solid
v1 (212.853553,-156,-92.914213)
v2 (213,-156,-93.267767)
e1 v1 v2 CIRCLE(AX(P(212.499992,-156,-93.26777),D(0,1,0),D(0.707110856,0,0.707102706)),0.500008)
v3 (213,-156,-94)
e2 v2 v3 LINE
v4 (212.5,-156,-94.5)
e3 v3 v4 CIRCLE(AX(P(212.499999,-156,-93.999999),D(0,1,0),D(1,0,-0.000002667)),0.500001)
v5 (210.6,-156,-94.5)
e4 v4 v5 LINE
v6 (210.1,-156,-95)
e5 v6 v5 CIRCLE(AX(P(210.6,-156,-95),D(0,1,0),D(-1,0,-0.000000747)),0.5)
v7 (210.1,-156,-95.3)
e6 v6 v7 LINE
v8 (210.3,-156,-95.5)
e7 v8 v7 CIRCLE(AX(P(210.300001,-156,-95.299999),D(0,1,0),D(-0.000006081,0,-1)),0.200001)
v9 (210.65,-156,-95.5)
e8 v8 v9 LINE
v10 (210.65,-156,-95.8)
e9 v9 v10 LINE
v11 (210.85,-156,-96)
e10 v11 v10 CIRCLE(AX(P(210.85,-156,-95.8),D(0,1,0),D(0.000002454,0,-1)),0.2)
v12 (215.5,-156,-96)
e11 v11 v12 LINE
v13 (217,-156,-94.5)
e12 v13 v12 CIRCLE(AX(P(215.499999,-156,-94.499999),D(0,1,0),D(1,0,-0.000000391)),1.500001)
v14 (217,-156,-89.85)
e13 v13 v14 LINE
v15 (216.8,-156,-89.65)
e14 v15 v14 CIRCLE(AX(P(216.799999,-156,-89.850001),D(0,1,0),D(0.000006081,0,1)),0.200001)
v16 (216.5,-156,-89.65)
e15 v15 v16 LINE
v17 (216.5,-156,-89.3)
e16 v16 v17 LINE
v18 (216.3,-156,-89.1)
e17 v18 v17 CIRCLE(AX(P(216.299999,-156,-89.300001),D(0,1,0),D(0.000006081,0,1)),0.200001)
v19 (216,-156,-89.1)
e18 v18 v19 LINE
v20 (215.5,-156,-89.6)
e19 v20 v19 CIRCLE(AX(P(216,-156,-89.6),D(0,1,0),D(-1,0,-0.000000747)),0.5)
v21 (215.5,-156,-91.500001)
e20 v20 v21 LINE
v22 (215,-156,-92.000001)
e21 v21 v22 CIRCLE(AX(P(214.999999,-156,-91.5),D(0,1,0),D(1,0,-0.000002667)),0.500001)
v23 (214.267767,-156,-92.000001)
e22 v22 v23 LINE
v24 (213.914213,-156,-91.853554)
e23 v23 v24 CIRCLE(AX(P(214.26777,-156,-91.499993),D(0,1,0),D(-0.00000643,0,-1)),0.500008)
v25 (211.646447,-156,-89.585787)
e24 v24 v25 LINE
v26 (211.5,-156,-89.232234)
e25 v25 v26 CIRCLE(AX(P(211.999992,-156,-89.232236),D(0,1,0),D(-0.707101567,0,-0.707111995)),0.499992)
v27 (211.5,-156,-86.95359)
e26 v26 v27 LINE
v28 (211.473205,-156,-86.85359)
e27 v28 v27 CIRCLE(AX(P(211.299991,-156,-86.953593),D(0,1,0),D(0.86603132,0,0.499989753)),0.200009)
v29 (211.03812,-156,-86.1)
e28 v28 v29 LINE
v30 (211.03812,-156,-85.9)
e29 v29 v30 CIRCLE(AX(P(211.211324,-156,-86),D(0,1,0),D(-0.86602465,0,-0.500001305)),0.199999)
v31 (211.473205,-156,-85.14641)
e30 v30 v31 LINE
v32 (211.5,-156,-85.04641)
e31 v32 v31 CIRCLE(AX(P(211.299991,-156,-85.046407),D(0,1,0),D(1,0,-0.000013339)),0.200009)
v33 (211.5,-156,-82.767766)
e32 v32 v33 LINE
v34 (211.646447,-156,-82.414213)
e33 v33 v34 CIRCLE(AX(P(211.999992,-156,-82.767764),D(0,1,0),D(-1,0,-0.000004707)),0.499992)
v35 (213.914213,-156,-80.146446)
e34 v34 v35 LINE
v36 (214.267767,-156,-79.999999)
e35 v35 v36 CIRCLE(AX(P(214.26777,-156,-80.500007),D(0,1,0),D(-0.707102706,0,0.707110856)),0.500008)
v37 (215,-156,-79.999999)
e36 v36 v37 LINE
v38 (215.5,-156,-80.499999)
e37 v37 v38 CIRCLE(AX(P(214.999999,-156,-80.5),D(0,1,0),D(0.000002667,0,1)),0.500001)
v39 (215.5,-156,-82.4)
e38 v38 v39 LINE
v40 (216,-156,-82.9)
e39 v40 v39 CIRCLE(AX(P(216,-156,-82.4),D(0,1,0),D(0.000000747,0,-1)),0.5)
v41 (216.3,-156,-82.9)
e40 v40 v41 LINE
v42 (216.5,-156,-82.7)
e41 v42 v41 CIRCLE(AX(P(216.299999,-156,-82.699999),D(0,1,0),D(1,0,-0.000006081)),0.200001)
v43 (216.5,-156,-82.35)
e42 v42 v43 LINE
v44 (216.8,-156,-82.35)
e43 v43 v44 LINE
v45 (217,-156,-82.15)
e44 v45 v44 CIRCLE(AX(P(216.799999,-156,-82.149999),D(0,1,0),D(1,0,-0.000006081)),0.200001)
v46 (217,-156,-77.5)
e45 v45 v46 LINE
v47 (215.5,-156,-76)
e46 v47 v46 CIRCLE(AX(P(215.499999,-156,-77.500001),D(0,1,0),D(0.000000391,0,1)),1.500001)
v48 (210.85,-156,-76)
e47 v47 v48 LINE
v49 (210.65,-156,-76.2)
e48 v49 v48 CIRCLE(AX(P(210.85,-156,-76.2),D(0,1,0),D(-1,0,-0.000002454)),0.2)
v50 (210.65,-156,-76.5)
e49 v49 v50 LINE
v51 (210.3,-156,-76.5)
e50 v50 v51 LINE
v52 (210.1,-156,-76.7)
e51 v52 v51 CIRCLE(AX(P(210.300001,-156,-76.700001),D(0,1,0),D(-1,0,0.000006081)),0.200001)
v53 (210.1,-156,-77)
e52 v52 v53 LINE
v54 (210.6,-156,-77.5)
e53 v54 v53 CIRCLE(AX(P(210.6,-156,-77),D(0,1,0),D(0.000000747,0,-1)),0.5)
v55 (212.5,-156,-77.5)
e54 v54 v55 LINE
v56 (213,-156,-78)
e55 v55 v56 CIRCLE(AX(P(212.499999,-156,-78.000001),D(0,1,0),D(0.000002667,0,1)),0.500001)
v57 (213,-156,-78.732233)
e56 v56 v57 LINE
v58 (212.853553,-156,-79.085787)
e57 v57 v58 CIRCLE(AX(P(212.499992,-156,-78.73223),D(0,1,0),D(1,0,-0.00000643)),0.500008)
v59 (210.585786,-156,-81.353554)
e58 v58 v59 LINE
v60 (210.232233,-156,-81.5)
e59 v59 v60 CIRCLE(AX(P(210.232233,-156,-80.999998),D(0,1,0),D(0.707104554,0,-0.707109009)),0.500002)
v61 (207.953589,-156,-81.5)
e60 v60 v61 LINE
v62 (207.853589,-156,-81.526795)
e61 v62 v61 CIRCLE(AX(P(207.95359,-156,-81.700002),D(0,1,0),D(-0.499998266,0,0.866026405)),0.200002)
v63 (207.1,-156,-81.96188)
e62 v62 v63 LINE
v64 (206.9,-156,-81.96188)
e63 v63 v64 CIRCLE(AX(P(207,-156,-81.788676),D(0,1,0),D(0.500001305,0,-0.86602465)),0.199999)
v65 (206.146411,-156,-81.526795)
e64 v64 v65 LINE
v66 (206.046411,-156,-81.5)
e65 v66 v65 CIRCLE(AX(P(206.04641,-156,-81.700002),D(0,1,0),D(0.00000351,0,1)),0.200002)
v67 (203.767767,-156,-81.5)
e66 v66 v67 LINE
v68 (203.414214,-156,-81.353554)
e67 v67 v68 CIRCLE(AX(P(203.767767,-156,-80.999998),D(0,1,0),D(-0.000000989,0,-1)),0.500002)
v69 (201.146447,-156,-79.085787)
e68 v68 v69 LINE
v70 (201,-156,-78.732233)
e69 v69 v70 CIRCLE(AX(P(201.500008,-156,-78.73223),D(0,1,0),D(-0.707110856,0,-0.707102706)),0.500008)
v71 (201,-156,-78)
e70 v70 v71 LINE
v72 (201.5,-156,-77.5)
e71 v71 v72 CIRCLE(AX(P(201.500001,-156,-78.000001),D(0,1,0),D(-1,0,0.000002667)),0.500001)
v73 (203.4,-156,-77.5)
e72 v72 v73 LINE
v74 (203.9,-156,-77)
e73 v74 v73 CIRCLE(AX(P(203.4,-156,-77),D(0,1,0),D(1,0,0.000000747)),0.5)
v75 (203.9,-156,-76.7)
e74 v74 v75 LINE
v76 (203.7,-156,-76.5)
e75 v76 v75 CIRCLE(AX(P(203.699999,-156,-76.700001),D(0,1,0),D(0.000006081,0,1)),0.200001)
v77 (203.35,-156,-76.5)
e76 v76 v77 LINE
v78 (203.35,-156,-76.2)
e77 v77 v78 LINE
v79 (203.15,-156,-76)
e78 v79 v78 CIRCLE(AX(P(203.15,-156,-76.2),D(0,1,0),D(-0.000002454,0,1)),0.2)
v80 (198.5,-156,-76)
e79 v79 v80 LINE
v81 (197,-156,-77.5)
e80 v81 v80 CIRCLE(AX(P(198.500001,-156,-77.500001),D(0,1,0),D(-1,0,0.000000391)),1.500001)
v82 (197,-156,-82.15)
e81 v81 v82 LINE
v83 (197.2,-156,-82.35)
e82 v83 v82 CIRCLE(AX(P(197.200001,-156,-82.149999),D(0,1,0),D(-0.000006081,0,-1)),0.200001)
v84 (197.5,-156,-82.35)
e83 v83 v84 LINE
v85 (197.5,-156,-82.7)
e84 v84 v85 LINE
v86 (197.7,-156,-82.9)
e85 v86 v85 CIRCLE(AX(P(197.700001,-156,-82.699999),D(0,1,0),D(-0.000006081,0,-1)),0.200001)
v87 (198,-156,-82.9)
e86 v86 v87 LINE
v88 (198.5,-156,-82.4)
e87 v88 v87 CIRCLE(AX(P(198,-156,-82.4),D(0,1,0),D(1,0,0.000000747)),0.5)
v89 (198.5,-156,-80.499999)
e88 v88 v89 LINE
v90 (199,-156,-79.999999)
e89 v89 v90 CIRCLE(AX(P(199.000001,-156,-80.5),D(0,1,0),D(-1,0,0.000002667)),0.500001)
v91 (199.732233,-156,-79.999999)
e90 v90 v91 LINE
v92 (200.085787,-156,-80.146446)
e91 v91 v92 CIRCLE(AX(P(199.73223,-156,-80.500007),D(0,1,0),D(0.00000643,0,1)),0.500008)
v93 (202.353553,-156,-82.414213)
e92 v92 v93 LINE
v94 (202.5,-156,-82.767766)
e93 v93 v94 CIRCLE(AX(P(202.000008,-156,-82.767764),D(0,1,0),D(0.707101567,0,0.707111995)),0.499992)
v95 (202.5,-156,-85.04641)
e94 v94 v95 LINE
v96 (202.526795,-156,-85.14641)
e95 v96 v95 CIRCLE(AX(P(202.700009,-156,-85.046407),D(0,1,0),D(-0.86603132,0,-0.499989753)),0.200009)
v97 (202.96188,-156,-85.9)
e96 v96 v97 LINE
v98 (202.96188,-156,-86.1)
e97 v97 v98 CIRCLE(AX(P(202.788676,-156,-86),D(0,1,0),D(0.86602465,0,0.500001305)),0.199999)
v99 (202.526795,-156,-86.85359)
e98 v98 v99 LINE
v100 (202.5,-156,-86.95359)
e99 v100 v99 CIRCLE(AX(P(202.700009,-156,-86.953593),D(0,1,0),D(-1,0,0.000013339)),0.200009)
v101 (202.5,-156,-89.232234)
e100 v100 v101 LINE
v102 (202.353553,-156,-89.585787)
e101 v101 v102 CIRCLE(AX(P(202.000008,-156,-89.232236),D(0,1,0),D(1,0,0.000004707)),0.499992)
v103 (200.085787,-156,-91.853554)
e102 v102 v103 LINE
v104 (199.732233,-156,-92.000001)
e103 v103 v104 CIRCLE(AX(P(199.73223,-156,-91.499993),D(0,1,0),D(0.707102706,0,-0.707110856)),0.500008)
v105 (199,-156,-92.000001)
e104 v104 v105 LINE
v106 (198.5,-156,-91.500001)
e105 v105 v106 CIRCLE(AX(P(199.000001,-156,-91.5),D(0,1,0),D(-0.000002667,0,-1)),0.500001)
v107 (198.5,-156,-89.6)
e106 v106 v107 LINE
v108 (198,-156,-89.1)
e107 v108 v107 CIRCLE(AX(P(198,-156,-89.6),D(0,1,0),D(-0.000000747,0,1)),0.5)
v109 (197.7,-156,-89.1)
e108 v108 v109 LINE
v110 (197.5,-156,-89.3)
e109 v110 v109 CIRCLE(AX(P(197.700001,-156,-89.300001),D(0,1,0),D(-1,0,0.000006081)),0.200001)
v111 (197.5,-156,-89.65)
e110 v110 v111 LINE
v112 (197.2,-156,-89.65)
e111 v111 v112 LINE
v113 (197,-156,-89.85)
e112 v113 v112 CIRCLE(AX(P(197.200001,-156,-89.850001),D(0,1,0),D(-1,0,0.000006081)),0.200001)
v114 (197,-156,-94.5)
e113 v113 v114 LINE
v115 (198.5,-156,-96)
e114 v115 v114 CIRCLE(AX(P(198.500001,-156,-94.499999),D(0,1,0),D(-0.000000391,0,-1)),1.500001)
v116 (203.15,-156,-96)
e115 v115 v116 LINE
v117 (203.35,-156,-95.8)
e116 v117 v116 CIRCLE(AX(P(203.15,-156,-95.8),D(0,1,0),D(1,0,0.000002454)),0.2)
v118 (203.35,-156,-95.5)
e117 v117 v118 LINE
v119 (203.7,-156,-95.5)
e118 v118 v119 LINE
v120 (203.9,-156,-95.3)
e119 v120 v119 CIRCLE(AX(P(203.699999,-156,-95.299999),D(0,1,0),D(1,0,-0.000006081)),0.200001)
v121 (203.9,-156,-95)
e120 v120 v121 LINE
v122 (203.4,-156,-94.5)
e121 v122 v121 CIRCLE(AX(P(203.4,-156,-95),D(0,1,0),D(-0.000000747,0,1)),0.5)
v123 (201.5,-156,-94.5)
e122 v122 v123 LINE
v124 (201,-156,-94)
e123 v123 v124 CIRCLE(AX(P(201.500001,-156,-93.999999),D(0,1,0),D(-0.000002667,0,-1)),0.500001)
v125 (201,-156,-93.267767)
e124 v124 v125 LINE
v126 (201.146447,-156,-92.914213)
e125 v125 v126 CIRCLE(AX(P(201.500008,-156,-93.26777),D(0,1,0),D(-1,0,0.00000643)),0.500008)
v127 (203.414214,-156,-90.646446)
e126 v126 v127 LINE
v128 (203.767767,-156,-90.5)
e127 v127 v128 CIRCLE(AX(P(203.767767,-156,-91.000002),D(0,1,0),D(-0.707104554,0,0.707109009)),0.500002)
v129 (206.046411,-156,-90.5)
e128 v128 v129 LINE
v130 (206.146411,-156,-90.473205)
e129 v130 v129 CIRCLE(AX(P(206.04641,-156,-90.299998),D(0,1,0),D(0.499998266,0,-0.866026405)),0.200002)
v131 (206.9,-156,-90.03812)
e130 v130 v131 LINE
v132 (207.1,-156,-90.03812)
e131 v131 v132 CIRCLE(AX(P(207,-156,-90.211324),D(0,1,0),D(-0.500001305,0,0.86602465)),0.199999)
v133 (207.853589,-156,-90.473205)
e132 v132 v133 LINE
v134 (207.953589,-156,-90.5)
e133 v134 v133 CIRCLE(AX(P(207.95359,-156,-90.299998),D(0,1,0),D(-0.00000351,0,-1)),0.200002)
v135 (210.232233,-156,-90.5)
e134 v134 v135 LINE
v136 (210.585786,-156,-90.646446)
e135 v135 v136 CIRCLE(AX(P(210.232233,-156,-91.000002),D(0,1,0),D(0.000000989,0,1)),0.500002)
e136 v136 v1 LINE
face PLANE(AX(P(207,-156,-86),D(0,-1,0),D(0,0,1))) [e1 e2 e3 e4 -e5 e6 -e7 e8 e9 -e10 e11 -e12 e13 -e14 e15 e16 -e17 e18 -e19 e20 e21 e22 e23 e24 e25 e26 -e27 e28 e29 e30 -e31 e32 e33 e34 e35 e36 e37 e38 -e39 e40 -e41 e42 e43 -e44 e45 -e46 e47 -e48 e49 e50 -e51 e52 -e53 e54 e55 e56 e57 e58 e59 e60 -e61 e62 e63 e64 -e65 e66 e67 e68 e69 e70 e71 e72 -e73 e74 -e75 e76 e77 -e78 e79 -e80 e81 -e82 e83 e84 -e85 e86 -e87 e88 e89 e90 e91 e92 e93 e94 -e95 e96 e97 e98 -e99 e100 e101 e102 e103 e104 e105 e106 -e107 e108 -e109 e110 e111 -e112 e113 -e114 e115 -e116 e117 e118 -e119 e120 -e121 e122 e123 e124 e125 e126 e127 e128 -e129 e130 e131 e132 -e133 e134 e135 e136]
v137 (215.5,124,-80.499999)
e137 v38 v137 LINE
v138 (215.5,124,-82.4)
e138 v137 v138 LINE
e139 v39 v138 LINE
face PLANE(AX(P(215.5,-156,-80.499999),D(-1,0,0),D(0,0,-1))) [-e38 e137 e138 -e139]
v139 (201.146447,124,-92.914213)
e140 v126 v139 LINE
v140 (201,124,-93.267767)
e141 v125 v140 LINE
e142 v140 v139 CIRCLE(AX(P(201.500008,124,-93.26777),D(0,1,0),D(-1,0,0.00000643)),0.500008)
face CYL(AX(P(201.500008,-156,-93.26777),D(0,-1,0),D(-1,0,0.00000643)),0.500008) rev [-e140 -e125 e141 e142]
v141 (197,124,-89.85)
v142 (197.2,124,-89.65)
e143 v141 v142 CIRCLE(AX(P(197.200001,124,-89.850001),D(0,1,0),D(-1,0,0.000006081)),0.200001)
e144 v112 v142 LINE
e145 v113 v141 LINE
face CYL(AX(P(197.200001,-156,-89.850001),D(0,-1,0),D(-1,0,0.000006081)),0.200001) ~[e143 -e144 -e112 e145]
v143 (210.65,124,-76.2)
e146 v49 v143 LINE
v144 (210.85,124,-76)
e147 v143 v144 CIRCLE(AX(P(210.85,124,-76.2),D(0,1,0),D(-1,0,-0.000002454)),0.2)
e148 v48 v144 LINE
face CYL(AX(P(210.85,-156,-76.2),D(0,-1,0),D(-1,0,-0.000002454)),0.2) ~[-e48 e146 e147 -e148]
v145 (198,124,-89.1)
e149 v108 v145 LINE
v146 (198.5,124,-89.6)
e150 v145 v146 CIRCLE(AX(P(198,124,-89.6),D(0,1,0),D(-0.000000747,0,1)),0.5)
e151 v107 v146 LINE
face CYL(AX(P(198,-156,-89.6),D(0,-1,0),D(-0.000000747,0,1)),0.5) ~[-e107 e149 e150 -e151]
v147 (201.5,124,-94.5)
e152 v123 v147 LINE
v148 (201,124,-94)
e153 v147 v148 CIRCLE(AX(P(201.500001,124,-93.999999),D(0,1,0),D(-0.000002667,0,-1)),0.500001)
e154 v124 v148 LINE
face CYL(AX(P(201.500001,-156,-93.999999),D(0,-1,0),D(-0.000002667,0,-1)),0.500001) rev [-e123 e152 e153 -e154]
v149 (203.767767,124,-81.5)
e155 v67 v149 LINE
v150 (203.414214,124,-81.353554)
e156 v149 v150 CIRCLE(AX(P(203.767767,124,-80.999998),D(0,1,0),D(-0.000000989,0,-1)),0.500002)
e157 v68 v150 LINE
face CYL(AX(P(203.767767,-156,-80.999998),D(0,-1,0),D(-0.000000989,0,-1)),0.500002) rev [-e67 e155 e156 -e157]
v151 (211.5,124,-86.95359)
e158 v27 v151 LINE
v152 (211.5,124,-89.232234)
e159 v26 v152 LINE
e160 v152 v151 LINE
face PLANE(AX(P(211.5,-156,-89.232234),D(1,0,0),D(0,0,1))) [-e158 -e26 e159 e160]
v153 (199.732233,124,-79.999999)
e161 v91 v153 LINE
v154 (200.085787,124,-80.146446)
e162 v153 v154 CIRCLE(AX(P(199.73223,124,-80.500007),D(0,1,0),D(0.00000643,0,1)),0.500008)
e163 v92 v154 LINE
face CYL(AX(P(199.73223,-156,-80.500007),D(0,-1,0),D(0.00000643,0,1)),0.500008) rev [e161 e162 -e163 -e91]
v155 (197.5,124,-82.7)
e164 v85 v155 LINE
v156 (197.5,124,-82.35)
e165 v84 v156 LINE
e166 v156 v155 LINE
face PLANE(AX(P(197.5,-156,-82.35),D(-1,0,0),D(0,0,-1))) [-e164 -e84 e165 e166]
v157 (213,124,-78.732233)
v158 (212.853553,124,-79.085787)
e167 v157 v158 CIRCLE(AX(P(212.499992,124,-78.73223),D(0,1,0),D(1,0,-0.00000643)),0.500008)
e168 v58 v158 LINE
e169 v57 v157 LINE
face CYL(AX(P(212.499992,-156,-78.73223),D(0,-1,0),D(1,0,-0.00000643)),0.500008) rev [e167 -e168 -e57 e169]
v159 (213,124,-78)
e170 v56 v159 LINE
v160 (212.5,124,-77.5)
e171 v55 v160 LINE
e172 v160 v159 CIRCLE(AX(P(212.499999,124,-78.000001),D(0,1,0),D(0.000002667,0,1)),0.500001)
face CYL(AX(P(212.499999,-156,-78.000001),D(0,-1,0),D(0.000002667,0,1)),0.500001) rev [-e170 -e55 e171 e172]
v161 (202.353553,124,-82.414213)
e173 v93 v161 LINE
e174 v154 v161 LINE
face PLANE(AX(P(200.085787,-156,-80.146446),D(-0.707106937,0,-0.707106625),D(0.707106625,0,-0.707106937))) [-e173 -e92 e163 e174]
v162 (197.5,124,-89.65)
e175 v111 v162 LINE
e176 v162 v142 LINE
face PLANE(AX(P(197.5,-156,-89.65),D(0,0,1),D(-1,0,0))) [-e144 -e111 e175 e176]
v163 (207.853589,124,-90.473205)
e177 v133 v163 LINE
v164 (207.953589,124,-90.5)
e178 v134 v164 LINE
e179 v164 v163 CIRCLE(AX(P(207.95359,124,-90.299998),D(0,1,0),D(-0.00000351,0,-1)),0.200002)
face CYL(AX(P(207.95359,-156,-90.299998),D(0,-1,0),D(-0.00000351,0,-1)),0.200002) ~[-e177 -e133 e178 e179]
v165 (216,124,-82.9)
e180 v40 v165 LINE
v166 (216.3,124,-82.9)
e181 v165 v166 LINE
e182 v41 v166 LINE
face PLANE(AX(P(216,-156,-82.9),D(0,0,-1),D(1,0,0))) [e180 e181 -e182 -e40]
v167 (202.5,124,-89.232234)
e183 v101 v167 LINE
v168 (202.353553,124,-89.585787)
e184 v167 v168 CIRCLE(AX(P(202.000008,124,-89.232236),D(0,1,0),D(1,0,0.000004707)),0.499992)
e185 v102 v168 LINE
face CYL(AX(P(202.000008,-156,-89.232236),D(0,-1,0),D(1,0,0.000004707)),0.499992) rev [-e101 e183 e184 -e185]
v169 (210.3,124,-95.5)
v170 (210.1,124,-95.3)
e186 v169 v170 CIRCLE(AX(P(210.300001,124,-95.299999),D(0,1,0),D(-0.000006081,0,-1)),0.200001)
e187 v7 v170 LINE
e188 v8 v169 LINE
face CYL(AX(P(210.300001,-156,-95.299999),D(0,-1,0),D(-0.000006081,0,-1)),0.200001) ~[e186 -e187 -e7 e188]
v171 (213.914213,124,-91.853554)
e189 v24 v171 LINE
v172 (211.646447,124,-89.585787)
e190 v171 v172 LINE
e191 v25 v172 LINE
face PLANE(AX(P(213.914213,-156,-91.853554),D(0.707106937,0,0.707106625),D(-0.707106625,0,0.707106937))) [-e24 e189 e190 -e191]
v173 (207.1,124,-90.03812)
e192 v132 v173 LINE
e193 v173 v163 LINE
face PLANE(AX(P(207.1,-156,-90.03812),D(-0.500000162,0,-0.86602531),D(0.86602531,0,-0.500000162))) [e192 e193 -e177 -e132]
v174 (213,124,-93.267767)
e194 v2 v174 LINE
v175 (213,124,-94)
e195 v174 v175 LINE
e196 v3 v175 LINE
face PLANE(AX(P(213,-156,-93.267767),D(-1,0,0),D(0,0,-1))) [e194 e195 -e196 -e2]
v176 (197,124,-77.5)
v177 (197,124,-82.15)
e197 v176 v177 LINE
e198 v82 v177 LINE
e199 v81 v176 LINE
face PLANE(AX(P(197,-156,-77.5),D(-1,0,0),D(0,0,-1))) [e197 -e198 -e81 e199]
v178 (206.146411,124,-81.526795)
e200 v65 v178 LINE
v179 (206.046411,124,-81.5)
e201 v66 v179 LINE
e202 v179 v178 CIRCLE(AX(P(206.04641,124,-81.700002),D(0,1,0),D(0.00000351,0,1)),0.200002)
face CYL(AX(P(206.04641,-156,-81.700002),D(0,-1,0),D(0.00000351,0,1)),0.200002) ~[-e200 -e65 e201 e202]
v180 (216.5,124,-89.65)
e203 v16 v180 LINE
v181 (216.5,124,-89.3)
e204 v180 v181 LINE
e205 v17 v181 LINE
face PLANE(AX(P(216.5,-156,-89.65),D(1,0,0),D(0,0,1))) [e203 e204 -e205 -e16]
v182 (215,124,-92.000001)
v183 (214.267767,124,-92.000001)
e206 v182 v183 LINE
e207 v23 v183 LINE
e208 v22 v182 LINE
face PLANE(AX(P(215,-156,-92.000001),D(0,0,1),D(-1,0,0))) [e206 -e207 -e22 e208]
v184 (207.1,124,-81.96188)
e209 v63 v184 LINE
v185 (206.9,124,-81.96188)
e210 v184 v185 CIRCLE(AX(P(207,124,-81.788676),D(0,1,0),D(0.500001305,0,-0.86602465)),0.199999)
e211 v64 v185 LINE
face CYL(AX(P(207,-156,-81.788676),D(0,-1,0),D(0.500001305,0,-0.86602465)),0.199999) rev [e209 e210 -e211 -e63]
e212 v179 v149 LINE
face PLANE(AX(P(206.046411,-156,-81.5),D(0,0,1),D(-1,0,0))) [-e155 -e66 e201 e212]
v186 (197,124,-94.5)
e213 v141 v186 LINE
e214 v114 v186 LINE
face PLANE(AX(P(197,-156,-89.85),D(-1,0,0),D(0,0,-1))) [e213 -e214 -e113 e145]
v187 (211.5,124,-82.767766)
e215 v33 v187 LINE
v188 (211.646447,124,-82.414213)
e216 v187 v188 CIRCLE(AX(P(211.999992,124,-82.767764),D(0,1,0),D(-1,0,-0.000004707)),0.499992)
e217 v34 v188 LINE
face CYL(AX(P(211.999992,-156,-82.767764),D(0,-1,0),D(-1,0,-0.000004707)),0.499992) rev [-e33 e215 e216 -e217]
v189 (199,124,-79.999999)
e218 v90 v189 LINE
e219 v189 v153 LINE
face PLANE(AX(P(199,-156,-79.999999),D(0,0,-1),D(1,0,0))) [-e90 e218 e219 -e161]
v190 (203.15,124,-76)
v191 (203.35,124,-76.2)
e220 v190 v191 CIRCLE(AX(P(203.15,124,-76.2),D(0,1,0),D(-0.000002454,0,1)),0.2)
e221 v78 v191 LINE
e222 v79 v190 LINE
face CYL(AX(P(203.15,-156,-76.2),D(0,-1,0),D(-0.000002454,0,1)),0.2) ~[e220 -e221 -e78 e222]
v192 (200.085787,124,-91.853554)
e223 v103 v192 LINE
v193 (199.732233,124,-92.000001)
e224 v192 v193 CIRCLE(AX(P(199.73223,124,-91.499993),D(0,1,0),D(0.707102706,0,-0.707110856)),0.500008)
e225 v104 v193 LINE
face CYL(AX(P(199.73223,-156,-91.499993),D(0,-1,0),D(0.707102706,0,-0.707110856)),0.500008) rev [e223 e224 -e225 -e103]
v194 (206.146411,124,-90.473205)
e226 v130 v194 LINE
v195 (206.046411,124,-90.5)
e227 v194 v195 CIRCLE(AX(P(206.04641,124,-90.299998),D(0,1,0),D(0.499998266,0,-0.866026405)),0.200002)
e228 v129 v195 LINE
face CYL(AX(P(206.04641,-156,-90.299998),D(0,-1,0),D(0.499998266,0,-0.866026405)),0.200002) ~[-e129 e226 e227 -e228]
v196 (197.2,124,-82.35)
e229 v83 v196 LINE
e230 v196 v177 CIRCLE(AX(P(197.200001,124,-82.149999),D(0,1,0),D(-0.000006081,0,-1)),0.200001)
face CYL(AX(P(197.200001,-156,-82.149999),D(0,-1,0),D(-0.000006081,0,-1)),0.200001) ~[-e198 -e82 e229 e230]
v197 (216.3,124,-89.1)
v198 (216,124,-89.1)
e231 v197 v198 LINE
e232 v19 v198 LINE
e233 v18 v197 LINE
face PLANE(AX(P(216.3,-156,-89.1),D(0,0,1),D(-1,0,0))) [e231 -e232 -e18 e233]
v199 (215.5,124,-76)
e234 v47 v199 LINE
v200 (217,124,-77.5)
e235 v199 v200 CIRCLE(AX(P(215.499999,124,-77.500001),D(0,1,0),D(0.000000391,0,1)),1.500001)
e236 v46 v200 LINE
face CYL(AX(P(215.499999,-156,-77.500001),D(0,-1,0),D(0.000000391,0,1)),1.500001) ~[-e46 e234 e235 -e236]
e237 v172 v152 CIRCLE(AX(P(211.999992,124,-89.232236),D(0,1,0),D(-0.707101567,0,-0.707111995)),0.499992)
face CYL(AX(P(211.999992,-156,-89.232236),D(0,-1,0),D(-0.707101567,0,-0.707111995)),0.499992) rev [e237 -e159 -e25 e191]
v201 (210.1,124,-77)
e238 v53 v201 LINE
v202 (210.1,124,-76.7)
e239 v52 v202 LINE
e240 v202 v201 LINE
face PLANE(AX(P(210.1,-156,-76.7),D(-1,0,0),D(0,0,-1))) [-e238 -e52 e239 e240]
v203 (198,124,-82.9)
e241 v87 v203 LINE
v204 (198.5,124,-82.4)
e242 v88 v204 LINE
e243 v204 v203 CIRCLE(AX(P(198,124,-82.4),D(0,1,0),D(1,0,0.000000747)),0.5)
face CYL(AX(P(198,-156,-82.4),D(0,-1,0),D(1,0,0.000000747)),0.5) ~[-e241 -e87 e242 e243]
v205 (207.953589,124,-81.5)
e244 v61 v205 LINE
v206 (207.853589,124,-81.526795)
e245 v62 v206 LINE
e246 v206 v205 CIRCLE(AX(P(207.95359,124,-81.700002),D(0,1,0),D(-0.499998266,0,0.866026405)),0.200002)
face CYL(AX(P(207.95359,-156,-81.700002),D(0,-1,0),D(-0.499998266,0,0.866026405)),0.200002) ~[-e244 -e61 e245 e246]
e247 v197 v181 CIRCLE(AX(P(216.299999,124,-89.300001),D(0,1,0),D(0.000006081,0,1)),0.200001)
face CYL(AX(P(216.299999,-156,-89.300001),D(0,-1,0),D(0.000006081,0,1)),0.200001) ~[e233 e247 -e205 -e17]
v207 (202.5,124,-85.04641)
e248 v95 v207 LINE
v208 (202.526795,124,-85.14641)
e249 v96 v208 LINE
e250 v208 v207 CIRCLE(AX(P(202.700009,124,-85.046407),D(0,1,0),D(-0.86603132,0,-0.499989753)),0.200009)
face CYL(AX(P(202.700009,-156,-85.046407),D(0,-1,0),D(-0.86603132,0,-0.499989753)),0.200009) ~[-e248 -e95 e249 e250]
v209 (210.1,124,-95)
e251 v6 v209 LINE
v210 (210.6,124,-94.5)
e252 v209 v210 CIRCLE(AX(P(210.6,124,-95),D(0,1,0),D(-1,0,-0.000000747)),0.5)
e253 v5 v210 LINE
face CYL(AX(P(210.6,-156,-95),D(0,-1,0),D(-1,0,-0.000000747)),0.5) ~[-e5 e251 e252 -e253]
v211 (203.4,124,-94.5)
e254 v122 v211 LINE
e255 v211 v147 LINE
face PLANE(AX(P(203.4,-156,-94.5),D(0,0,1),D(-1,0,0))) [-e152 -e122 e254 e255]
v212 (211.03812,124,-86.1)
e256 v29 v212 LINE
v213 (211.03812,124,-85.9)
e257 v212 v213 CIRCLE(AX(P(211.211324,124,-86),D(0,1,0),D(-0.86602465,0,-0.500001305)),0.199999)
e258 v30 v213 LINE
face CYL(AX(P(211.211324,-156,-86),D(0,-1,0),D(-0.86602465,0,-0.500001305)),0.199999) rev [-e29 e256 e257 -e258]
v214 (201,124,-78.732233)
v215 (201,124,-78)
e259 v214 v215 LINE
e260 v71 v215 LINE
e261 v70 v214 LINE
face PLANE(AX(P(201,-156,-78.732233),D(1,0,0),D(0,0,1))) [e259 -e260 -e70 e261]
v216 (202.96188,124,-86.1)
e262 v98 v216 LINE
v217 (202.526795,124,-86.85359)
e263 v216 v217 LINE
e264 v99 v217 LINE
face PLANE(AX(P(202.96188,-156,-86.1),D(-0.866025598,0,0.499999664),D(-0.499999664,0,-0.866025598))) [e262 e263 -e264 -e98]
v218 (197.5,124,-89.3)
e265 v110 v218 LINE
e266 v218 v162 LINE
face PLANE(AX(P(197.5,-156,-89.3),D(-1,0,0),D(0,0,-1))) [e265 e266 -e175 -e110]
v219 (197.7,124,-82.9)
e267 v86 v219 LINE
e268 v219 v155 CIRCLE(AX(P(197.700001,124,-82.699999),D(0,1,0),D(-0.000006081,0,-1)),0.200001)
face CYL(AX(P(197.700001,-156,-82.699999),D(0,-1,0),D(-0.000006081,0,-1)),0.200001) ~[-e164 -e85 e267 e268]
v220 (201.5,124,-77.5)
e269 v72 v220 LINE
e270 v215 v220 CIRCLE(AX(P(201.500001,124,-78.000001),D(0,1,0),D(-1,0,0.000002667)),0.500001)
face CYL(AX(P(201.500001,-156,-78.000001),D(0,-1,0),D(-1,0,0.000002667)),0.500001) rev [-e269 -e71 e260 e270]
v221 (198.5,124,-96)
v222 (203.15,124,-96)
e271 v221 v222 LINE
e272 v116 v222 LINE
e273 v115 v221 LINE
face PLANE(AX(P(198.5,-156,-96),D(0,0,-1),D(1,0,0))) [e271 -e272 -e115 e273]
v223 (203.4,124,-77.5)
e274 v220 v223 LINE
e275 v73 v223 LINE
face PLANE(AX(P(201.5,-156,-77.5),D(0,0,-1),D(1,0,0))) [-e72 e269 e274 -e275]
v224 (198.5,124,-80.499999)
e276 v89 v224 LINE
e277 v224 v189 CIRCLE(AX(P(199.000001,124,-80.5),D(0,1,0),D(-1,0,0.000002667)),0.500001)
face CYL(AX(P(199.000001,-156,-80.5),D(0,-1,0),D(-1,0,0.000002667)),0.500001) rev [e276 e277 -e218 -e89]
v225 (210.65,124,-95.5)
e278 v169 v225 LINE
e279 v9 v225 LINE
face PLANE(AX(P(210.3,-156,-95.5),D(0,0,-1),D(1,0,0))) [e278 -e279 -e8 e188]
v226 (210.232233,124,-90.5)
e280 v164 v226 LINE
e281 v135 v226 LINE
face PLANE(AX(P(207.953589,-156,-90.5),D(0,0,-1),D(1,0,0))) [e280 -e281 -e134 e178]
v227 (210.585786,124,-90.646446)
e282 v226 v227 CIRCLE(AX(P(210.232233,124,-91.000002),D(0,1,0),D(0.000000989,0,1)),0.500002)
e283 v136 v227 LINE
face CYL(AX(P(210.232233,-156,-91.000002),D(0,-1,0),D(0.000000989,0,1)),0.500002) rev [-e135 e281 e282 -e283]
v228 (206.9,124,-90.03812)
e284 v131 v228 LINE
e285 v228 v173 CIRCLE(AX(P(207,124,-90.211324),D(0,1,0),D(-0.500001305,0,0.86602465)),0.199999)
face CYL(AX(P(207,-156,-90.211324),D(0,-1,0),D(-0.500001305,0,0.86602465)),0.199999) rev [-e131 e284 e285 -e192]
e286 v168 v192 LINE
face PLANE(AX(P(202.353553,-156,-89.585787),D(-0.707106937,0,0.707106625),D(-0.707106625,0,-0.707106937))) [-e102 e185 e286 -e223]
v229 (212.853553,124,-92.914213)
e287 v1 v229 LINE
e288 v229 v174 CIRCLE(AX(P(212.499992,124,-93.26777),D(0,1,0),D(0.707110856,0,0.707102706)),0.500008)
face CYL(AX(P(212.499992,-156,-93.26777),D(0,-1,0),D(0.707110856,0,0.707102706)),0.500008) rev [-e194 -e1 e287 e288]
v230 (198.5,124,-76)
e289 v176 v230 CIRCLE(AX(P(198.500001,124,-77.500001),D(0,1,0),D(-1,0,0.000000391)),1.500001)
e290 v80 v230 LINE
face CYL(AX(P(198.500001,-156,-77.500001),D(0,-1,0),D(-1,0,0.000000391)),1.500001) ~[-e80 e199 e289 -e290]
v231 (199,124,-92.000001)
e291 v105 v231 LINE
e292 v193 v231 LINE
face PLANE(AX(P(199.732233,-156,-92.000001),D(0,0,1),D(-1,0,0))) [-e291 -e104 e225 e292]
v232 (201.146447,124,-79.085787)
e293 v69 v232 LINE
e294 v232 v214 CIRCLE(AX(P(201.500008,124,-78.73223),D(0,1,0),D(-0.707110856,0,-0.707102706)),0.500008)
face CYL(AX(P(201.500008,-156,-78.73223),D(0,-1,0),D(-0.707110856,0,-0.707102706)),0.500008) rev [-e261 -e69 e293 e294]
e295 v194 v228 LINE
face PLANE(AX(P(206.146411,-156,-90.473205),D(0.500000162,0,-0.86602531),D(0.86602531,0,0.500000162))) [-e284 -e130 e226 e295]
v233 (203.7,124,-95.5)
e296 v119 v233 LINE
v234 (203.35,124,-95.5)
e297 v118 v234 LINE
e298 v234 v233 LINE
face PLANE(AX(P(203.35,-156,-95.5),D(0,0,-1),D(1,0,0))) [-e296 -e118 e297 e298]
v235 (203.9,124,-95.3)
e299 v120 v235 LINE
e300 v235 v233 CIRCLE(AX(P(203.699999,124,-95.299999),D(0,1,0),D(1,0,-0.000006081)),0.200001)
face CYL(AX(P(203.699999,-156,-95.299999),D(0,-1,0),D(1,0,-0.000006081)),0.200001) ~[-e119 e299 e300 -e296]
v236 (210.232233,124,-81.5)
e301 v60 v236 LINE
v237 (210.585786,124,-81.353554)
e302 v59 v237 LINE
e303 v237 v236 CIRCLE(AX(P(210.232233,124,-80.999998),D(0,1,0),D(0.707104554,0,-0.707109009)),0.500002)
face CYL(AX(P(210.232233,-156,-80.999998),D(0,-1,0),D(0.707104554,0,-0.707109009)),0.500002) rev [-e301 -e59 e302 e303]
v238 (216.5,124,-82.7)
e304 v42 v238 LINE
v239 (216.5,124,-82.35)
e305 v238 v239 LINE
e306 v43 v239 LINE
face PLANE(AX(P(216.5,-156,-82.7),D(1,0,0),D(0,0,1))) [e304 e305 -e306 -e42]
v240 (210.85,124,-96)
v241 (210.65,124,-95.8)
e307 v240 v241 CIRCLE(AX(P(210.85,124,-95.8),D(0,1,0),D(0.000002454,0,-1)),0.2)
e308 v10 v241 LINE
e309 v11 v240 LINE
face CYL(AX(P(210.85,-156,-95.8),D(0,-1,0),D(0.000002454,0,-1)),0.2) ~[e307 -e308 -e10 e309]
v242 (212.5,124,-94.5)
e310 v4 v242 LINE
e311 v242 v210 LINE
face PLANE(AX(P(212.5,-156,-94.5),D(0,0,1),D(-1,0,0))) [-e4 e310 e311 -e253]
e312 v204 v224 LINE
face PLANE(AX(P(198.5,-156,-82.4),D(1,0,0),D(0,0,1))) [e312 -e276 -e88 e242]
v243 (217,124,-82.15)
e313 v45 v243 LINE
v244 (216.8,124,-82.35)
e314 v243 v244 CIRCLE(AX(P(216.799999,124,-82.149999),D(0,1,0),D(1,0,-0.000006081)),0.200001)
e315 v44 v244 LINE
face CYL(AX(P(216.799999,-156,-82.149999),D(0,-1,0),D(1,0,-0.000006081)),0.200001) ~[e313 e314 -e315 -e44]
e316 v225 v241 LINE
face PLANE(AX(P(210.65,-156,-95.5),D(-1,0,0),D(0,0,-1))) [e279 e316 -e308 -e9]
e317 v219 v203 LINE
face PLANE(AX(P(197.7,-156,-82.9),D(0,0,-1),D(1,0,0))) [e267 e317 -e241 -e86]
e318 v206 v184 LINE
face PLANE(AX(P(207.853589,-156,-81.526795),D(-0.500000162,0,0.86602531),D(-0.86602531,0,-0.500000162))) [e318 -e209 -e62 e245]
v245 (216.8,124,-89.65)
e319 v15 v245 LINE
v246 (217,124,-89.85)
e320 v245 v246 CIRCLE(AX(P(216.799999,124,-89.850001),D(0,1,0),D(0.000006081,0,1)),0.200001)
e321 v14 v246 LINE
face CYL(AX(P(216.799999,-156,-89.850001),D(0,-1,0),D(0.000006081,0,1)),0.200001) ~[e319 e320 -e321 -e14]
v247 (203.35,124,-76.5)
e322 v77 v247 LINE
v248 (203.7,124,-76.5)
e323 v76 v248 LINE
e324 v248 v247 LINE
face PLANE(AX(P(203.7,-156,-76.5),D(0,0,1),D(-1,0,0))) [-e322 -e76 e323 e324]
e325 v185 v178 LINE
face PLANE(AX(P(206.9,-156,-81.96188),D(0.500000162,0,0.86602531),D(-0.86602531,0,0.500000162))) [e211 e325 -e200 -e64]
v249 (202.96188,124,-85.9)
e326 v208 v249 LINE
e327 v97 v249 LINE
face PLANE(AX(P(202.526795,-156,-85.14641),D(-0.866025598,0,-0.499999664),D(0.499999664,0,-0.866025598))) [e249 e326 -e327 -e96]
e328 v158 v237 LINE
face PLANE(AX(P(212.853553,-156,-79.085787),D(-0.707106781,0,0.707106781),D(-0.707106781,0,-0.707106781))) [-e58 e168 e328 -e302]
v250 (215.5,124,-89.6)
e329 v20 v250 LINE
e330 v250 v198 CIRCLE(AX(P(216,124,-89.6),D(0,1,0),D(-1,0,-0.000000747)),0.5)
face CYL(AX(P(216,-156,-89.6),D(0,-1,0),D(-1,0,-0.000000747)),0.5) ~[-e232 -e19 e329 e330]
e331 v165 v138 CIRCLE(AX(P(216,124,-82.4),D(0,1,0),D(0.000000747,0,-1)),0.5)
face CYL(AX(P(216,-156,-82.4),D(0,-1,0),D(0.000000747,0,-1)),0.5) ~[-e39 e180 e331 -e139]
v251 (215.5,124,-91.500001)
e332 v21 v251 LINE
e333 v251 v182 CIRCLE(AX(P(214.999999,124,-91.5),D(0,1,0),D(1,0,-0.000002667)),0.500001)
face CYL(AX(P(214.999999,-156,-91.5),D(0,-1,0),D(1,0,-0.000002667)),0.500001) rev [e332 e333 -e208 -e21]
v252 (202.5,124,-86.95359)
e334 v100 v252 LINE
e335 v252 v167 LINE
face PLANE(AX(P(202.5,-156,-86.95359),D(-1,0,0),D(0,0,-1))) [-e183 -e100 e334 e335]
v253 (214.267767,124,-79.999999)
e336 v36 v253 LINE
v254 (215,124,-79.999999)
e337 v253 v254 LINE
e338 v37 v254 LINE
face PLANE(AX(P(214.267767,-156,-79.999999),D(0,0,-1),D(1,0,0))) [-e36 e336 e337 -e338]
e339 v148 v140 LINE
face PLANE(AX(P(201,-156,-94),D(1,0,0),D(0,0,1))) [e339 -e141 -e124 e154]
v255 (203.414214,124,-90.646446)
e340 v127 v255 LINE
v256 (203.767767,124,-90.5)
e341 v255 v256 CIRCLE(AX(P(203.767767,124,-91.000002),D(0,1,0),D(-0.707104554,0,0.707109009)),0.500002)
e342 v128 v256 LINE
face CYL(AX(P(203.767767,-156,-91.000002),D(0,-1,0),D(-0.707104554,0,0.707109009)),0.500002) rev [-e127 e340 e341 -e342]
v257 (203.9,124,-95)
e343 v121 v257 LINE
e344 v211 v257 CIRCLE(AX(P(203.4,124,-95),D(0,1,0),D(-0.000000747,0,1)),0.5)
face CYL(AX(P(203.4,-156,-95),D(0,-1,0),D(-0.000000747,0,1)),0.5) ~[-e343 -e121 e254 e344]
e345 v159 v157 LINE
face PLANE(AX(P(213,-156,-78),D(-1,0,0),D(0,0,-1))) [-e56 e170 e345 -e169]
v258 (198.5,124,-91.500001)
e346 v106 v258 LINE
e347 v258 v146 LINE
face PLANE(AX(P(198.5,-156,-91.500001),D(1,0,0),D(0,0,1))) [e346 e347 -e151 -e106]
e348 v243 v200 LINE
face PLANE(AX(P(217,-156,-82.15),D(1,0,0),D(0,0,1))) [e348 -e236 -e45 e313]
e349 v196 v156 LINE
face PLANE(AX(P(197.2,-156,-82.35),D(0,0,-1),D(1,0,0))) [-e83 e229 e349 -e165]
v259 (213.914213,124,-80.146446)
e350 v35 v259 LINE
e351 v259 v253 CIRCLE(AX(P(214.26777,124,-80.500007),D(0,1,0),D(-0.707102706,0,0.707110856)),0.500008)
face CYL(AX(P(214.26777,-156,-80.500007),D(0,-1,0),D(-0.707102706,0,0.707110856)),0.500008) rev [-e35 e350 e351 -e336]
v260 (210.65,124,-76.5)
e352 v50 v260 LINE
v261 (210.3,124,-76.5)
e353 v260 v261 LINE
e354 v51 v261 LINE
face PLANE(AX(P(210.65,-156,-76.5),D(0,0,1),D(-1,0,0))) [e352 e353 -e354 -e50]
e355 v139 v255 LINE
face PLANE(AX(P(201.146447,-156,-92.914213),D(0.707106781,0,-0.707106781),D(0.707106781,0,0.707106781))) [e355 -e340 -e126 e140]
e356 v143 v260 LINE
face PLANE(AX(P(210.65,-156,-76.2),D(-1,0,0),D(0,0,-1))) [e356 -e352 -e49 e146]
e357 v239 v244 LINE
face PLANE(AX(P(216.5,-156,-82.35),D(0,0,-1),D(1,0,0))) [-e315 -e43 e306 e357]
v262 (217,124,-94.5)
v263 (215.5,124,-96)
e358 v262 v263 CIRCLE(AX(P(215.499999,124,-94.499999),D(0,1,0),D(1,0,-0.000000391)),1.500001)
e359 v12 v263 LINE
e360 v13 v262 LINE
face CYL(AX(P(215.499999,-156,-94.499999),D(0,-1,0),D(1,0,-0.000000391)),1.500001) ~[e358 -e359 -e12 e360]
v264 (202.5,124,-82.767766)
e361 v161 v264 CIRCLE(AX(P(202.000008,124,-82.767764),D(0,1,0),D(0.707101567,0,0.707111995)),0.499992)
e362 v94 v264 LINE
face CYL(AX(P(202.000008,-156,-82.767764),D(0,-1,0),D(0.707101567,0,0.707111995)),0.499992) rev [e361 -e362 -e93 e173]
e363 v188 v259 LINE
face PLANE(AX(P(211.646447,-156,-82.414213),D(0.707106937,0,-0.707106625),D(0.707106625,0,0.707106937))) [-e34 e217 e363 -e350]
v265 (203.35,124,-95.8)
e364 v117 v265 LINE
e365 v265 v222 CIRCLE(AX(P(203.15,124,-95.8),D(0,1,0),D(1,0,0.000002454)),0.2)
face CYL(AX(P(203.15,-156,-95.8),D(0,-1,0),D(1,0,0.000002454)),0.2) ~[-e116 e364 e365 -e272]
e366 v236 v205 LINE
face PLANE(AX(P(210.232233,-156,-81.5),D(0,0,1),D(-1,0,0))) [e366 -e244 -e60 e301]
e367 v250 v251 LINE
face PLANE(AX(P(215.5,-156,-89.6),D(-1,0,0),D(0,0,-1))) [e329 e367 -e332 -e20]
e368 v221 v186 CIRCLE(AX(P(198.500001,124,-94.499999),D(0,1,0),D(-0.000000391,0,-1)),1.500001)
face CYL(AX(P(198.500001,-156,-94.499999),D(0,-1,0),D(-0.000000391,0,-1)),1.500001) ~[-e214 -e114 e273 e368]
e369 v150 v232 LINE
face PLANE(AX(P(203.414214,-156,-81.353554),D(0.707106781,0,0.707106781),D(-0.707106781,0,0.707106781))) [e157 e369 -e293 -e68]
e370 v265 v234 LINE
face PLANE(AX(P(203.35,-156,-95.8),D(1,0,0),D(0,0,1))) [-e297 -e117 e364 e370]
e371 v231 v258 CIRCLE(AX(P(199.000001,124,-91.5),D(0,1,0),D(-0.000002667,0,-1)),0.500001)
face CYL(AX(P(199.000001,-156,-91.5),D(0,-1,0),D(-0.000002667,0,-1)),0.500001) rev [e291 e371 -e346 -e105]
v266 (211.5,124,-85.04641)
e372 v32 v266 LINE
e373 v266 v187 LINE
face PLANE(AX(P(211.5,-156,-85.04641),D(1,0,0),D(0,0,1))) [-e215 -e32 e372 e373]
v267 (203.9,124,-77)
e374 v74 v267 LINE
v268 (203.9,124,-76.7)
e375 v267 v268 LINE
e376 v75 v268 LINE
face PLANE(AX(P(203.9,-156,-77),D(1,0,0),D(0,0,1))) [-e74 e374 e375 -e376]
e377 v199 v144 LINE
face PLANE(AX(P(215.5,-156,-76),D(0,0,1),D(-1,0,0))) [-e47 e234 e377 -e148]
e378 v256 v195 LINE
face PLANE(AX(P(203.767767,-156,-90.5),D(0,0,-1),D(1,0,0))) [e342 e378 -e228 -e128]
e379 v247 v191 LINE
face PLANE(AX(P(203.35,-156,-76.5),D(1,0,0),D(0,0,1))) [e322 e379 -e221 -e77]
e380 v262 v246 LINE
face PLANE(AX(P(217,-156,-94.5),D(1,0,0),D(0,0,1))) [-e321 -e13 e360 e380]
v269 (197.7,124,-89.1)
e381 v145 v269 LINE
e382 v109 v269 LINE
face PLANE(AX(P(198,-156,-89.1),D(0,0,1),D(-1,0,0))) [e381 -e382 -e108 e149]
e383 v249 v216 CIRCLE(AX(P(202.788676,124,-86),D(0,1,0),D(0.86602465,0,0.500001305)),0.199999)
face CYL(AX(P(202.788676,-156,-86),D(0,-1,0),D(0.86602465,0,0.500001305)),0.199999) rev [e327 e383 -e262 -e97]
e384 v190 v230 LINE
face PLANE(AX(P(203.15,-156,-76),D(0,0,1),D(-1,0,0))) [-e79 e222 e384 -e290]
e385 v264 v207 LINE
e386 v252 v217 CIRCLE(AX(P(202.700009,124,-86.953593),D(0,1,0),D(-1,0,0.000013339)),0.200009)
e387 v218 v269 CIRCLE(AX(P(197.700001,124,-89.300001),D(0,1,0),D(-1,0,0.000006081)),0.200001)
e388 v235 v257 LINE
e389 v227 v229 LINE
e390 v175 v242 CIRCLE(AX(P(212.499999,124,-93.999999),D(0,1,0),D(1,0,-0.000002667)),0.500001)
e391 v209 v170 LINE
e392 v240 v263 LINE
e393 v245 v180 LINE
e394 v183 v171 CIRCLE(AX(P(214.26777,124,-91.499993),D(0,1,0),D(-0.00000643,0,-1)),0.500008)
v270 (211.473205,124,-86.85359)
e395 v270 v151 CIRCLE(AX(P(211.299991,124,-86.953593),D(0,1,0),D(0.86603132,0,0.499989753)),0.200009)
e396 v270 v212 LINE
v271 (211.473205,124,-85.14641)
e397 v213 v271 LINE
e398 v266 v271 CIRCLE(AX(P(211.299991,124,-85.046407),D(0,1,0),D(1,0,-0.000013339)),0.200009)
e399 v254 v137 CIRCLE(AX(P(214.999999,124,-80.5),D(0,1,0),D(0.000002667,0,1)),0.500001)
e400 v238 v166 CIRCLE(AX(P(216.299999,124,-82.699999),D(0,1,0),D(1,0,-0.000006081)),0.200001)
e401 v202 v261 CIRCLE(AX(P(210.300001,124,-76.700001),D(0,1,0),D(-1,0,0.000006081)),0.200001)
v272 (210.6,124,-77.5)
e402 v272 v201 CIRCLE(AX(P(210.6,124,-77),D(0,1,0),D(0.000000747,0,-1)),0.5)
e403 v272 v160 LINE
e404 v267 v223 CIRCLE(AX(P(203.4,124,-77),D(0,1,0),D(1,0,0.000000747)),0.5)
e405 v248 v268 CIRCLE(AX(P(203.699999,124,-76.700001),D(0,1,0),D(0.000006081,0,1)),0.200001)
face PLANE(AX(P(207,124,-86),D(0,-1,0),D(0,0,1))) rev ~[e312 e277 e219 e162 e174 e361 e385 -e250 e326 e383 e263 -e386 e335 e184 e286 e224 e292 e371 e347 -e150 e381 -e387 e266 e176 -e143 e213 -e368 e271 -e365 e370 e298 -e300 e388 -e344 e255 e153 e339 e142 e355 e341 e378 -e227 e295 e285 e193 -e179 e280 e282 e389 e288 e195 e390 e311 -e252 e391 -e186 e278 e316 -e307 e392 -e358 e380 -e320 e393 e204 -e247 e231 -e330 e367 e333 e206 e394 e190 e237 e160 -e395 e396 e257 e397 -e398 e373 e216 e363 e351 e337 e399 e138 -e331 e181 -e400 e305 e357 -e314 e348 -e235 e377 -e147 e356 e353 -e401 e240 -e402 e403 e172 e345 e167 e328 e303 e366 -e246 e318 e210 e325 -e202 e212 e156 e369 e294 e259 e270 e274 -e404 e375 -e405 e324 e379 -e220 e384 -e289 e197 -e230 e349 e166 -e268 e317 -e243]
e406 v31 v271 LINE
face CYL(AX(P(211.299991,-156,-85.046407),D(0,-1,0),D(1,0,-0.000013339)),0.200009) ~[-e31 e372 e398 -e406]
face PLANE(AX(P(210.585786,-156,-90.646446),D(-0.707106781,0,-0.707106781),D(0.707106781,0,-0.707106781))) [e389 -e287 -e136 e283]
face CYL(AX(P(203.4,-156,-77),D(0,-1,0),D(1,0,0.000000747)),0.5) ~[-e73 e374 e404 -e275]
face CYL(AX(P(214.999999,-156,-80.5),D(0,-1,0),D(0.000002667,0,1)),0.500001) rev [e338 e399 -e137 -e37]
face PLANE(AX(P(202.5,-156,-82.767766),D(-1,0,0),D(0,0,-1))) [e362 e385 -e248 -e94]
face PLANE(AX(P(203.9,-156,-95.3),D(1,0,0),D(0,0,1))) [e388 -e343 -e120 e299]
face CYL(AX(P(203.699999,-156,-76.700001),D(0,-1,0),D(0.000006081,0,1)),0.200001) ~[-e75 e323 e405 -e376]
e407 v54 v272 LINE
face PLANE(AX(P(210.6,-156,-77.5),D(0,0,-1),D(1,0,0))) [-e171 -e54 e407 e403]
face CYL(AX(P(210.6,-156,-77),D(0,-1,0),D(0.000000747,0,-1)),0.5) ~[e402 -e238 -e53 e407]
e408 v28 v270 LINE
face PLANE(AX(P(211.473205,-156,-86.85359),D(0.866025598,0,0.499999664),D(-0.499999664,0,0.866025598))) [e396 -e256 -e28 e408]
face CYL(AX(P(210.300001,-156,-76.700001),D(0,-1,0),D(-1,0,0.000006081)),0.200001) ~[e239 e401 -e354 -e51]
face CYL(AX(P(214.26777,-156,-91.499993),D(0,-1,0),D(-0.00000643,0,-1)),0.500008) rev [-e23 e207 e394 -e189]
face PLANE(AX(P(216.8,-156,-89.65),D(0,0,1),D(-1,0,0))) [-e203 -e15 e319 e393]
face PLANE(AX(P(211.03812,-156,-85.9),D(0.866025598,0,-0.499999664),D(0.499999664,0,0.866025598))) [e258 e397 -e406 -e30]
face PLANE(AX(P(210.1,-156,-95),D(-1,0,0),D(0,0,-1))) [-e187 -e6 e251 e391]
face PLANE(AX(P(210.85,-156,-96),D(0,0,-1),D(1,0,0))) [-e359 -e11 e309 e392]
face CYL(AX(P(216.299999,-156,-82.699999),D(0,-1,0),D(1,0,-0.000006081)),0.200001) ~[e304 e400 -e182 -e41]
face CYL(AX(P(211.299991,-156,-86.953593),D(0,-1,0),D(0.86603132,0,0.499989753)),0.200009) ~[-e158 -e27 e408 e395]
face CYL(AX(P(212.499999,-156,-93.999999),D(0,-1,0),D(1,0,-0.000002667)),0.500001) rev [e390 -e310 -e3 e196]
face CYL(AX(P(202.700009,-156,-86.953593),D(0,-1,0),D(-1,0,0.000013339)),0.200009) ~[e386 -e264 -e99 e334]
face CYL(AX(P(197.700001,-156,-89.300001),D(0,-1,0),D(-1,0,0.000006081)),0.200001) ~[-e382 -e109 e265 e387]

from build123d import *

# Parameters (mm, degrees)
PAD007_DEPTH    = 280
POCKET019_DEPTH = 280.001


with BuildPart() as pad007:
    # Sketch015 → Pad007 (new body)
    with BuildSketch(Plane(origin=(0, 0, -1.5), x_dir=(0, 0, -1), z_dir=(0, 1, 0))):
        with BuildLine():
            Line((0, 20), (4.65, 20))
            ThreePointArc((4.85, 19.8), (4.791421, 19.941421), (4.65, 20))
            Line((4.85, 19.8), (4.85, 19.5))
            Line((4.85, 19.5), (5.2, 19.5))
            ThreePointArc((5.4, 19.3), (5.341421, 19.441421), (5.2, 19.5))
            Line((5.4, 19.3), (5.4, 19))
            ThreePointArc((4.9, 18.5), (5.253553, 18.646446), (5.4, 19))
            Line((4.9, 18.5), (2.999999, 18.5))
            ThreePointArc((2.999999, 18.5), (2.646446, 18.353553), (2.499999, 18))
            Line((2.499999, 18), (2.499999, 17.267767))
            ThreePointArc((2.499999, 17.267767), (2.53806, 17.076425), (2.646446, 16.914213))
            Line((2.646446, 16.914213), (4.914213, 14.646447))
            ThreePointArc((4.914213, 14.646447), (5.076424, 14.53806), (5.267766, 14.5))
            Line((5.267766, 14.5), (7.54641, 14.5))
            ThreePointArc((7.64641, 14.473205), (7.598173, 14.493185), (7.54641, 14.5))
            Line((7.64641, 14.473205), (8.4, 14.03812))
            ThreePointArc((8.4, 14.03812), (8.5, 14.011325), (8.6, 14.03812))
            Line((8.6, 14.03812), (9.35359, 14.473205))
            ThreePointArc((9.45359, 14.5), (9.401827, 14.493185), (9.35359, 14.473205))
            Line((9.45359, 14.5), (11.732234, 14.5))
            ThreePointArc((11.732234, 14.5), (11.923576, 14.53806), (12.085787, 14.646447))
            Line((12.085787, 14.646447), (14.353554, 16.914213))
            ThreePointArc((14.353554, 16.914213), (14.46194, 17.076425), (14.500001, 17.267767))
            Line((14.500001, 17.267767), (14.500001, 18))
            ThreePointArc((14.500001, 18), (14.353554, 18.353553), (14.000001, 18.5))
            Line((14.000001, 18.5), (12.1, 18.5))
            ThreePointArc((11.6, 19), (11.746447, 18.646446), (12.1, 18.5))
            Line((11.6, 19), (11.6, 19.3))
            ThreePointArc((11.8, 19.5), (11.658579, 19.441421), (11.6, 19.3))
            Line((11.8, 19.5), (12.15, 19.5))
            Line((12.15, 19.5), (12.15, 19.8))
            ThreePointArc((12.35, 20), (12.208579, 19.941421), (12.15, 19.8))
            Line((12.35, 20), (17, 20))
            ThreePointArc((18.5, 18.5), (18.06066, 19.56066), (17, 20))
            Line((18.5, 18.5), (18.5, 13.85))
            ThreePointArc((18.3, 13.65), (18.441421, 13.708578), (18.5, 13.85))
            Line((18.3, 13.65), (18, 13.65))
            Line((18, 13.65), (18, 13.3))
            ThreePointArc((17.8, 13.1), (17.941421, 13.158579), (18, 13.3))
            Line((17.8, 13.1), (17.5, 13.1))
            ThreePointArc((17, 13.6), (17.146446, 13.246447), (17.5, 13.1))
            Line((17, 13.6), (17, 15.5))
            ThreePointArc((17, 15.5), (16.853553, 15.853553), (16.5, 16))
            Line((16.5, 16), (15.767767, 16))
            ThreePointArc((15.767767, 16), (15.576425, 15.961939), (15.414213, 15.853553))
            Line((15.414213, 15.853553), (13.146446, 13.585786))
            ThreePointArc((13.146446, 13.585786), (13.03806, 13.423574), (13, 13.232233))
            Line((13, 13.232233), (13, 10.953589))
            ThreePointArc((12.973205, 10.853589), (12.993185, 10.901825), (13, 10.953589))
            Line((12.973205, 10.853589), (12.53812, 10.1))
            ThreePointArc((12.53812, 10.1), (12.511325, 10), (12.53812, 9.9))
            Line((12.53812, 9.9), (12.973205, 9.146411))
            ThreePointArc((13, 9.046411), (12.993185, 9.098175), (12.973205, 9.146411))
            Line((13, 9.046411), (13, 6.767767))
            ThreePointArc((13, 6.767767), (13.03806, 6.576426), (13.146446, 6.414214))
            Line((13.146446, 6.414214), (15.414213, 4.146447))
            ThreePointArc((15.414213, 4.146447), (15.576425, 4.038061), (15.767767, 4))
            Line((15.767767, 4), (16.5, 4))
            ThreePointArc((16.5, 4), (16.853553, 4.146447), (17, 4.5))
            Line((17, 4.5), (17, 6.4))
            ThreePointArc((17.5, 6.9), (17.146446, 6.753553), (17, 6.4))
            Line((17.5, 6.9), (17.8, 6.9))
            ThreePointArc((18, 6.7), (17.941421, 6.841421), (17.8, 6.9))
            Line((18, 6.7), (18, 6.35))
            Line((18, 6.35), (18.3, 6.35))
            ThreePointArc((18.5, 6.15), (18.441421, 6.291422), (18.3, 6.35))
            Line((18.5, 6.15), (18.5, 1.5))
            ThreePointArc((17, 0), (18.06066, 0.43934), (18.5, 1.5))
            Line((17, 0), (12.35, 0))
            ThreePointArc((12.15, 0.2), (12.208579, 0.058579), (12.35, 0))
            Line((12.15, 0.2), (12.15, 0.5))
            Line((12.15, 0.5), (11.8, 0.5))
            ThreePointArc((11.6, 0.7), (11.658579, 0.558579), (11.8, 0.5))
            Line((11.6, 0.7), (11.6, 1))
            ThreePointArc((12.1, 1.5), (11.746447, 1.353554), (11.6, 1))
            Line((12.1, 1.5), (14.000001, 1.5))
            ThreePointArc((14.000001, 1.5), (14.353554, 1.646447), (14.500001, 2))
            Line((14.500001, 2), (14.500001, 2.732233))
            ThreePointArc((14.500001, 2.732233), (14.46194, 2.923575), (14.353554, 3.085787))
            Line((14.353554, 3.085787), (12.085787, 5.353553))
            ThreePointArc((12.085787, 5.353553), (11.923576, 5.46194), (11.732234, 5.5))
            Line((11.732234, 5.5), (9.45359, 5.5))
            ThreePointArc((9.35359, 5.526795), (9.401827, 5.506815), (9.45359, 5.5))
            Line((9.35359, 5.526795), (8.6, 5.96188))
            ThreePointArc((8.6, 5.96188), (8.5, 5.988675), (8.4, 5.96188))
            Line((8.4, 5.96188), (7.64641, 5.526795))
            ThreePointArc((7.54641, 5.5), (7.598173, 5.506815), (7.64641, 5.526795))
            Line((7.54641, 5.5), (5.267766, 5.5))
            ThreePointArc((5.267766, 5.5), (5.076424, 5.46194), (4.914213, 5.353553))
            Line((4.914213, 5.353553), (2.646446, 3.085787))
            ThreePointArc((2.646446, 3.085787), (2.53806, 2.923575), (2.499999, 2.732233))
            Line((2.499999, 2.732233), (2.499999, 2))
            ThreePointArc((2.499999, 2), (2.646446, 1.646447), (2.999999, 1.5))
            Line((2.999999, 1.5), (4.9, 1.5))
            ThreePointArc((5.4, 1), (5.253553, 1.353554), (4.9, 1.5))
            Line((5.4, 1), (5.4, 0.7))
            ThreePointArc((5.2, 0.5), (5.341421, 0.558579), (5.4, 0.7))
            Line((5.2, 0.5), (4.85, 0.5))
            Line((4.85, 0.5), (4.85, 0.2))
            ThreePointArc((4.65, 0), (4.791421, 0.058579), (4.85, 0.2))
            Line((4.65, 0), (0, 0))
            ThreePointArc((-1.5, 1.5), (-1.06066, 0.43934), (0, 0))
            Line((-1.5, 1.5), (-1.5, 6.15))
            ThreePointArc((-1.3, 6.35), (-1.441421, 6.291422), (-1.5, 6.15))
            Line((-1.3, 6.35), (-1, 6.35))
            Line((-1, 6.35), (-1, 6.7))
            ThreePointArc((-0.8, 6.9), (-0.941421, 6.841421), (-1, 6.7))
            Line((-0.8, 6.9), (-0.5, 6.9))
            ThreePointArc((0, 6.4), (-0.146446, 6.753553), (-0.5, 6.9))
            Line((0, 6.4), (0, 4.5))
            ThreePointArc((0, 4.5), (0.146447, 4.146447), (0.5, 4))
            Line((0.5, 4), (1.232233, 4))
            ThreePointArc((1.232233, 4), (1.423575, 4.038061), (1.585787, 4.146447))
            Line((1.585787, 4.146447), (3.853554, 6.414214))
            ThreePointArc((3.853554, 6.414214), (3.96194, 6.576426), (4, 6.767767))
            Line((4, 6.767767), (4, 9.046411))
            ThreePointArc((4.026795, 9.146411), (4.006815, 9.098175), (4, 9.046411))
            Line((4.026795, 9.146411), (4.46188, 9.9))
            ThreePointArc((4.46188, 9.9), (4.488675, 10), (4.46188, 10.1))
            Line((4.46188, 10.1), (4.026795, 10.853589))
            ThreePointArc((4, 10.953589), (4.006815, 10.901825), (4.026795, 10.853589))
            Line((4, 10.953589), (4, 13.232233))
            ThreePointArc((4, 13.232233), (3.96194, 13.423574), (3.853554, 13.585786))
            Line((3.853554, 13.585786), (1.585787, 15.853553))
            ThreePointArc((1.585787, 15.853553), (1.423575, 15.961939), (1.232233, 16))
            Line((1.232233, 16), (0.5, 16))
            ThreePointArc((0.5, 16), (0.146447, 15.853553), (0, 15.5))
            Line((0, 15.5), (0, 13.6))
            ThreePointArc((-0.5, 13.1), (-0.146446, 13.246447), (0, 13.6))
            Line((-0.5, 13.1), (-0.8, 13.1))
            ThreePointArc((-1, 13.3), (-0.941421, 13.158579), (-0.8, 13.1))
            Line((-1, 13.3), (-1, 13.65))
            Line((-1, 13.65), (-1.3, 13.65))
            ThreePointArc((-1.5, 13.85), (-1.441421, 13.708578), (-1.3, 13.65))
            Line((-1.5, 13.85), (-1.5, 18.5))
            ThreePointArc((0, 20), (-1.06066, 19.56066), (-1.5, 18.5))
        make_face()
    extrude(amount=PAD007_DEPTH)


with BuildPart() as fusion009:
    # Pocket019 base: copy of Pad007
    add(pad007.part)

    # Sketch016 → Pocket019 (cut, through all)
    with BuildSketch(Plane(origin=(0, 280, -1.5), x_dir=(0, 0, -1), z_dir=(0, 1, 0))):
        with BuildLine():
            ThreePointArc((6.586105, 12.989641), (5.988263, 12.50841), (5.507825, 11.909931))
            Line((6.054705, 11.258185), (5.507825, 11.909931))
            ThreePointArc((6.054705, 11.258185), (5.75, 10), (6.054705, 8.741815))
            Line((5.507825, 8.090069), (6.054705, 8.741815))
            ThreePointArc((5.507825, 8.090069), (5.988263, 7.49159), (6.586105, 7.010359))
            Line((7.241815, 7.554705), (6.586105, 7.010359))
            ThreePointArc((7.241815, 7.554705), (8.5, 7.25), (9.758185, 7.554705))
            Line((10.413895, 7.010359), (9.758185, 7.554705))
            ThreePointArc((10.413895, 7.010359), (11.011737, 7.49159), (11.492175, 8.090069))
            Line((10.945295, 8.741815), (11.492175, 8.090069))
            ThreePointArc((10.945295, 8.741815), (11.25, 10), (10.945295, 11.258185))
            Line((11.492175, 11.909931), (10.945295, 11.258185))
            ThreePointArc((11.492175, 11.909931), (11.011737, 12.50841), (10.413895, 12.989641))
            Line((9.758185, 12.445295), (10.413895, 12.989641))
            ThreePointArc((9.758185, 12.445295), (8.5, 12.75), (7.241815, 12.445295))
            Line((6.586105, 12.989641), (7.241815, 12.445295))
        make_face()
    extrude(amount=-POCKET019_DEPTH, mode=Mode.SUBTRACT)

    # Fusion009: union Pad007
    add(pad007.part)


with BuildPart() as fusion009_1:
    # Fusion009 placement: moved
    add(fusion009.part.moved(Location((217, -156, -76))))


solid = fusion009_1.part
